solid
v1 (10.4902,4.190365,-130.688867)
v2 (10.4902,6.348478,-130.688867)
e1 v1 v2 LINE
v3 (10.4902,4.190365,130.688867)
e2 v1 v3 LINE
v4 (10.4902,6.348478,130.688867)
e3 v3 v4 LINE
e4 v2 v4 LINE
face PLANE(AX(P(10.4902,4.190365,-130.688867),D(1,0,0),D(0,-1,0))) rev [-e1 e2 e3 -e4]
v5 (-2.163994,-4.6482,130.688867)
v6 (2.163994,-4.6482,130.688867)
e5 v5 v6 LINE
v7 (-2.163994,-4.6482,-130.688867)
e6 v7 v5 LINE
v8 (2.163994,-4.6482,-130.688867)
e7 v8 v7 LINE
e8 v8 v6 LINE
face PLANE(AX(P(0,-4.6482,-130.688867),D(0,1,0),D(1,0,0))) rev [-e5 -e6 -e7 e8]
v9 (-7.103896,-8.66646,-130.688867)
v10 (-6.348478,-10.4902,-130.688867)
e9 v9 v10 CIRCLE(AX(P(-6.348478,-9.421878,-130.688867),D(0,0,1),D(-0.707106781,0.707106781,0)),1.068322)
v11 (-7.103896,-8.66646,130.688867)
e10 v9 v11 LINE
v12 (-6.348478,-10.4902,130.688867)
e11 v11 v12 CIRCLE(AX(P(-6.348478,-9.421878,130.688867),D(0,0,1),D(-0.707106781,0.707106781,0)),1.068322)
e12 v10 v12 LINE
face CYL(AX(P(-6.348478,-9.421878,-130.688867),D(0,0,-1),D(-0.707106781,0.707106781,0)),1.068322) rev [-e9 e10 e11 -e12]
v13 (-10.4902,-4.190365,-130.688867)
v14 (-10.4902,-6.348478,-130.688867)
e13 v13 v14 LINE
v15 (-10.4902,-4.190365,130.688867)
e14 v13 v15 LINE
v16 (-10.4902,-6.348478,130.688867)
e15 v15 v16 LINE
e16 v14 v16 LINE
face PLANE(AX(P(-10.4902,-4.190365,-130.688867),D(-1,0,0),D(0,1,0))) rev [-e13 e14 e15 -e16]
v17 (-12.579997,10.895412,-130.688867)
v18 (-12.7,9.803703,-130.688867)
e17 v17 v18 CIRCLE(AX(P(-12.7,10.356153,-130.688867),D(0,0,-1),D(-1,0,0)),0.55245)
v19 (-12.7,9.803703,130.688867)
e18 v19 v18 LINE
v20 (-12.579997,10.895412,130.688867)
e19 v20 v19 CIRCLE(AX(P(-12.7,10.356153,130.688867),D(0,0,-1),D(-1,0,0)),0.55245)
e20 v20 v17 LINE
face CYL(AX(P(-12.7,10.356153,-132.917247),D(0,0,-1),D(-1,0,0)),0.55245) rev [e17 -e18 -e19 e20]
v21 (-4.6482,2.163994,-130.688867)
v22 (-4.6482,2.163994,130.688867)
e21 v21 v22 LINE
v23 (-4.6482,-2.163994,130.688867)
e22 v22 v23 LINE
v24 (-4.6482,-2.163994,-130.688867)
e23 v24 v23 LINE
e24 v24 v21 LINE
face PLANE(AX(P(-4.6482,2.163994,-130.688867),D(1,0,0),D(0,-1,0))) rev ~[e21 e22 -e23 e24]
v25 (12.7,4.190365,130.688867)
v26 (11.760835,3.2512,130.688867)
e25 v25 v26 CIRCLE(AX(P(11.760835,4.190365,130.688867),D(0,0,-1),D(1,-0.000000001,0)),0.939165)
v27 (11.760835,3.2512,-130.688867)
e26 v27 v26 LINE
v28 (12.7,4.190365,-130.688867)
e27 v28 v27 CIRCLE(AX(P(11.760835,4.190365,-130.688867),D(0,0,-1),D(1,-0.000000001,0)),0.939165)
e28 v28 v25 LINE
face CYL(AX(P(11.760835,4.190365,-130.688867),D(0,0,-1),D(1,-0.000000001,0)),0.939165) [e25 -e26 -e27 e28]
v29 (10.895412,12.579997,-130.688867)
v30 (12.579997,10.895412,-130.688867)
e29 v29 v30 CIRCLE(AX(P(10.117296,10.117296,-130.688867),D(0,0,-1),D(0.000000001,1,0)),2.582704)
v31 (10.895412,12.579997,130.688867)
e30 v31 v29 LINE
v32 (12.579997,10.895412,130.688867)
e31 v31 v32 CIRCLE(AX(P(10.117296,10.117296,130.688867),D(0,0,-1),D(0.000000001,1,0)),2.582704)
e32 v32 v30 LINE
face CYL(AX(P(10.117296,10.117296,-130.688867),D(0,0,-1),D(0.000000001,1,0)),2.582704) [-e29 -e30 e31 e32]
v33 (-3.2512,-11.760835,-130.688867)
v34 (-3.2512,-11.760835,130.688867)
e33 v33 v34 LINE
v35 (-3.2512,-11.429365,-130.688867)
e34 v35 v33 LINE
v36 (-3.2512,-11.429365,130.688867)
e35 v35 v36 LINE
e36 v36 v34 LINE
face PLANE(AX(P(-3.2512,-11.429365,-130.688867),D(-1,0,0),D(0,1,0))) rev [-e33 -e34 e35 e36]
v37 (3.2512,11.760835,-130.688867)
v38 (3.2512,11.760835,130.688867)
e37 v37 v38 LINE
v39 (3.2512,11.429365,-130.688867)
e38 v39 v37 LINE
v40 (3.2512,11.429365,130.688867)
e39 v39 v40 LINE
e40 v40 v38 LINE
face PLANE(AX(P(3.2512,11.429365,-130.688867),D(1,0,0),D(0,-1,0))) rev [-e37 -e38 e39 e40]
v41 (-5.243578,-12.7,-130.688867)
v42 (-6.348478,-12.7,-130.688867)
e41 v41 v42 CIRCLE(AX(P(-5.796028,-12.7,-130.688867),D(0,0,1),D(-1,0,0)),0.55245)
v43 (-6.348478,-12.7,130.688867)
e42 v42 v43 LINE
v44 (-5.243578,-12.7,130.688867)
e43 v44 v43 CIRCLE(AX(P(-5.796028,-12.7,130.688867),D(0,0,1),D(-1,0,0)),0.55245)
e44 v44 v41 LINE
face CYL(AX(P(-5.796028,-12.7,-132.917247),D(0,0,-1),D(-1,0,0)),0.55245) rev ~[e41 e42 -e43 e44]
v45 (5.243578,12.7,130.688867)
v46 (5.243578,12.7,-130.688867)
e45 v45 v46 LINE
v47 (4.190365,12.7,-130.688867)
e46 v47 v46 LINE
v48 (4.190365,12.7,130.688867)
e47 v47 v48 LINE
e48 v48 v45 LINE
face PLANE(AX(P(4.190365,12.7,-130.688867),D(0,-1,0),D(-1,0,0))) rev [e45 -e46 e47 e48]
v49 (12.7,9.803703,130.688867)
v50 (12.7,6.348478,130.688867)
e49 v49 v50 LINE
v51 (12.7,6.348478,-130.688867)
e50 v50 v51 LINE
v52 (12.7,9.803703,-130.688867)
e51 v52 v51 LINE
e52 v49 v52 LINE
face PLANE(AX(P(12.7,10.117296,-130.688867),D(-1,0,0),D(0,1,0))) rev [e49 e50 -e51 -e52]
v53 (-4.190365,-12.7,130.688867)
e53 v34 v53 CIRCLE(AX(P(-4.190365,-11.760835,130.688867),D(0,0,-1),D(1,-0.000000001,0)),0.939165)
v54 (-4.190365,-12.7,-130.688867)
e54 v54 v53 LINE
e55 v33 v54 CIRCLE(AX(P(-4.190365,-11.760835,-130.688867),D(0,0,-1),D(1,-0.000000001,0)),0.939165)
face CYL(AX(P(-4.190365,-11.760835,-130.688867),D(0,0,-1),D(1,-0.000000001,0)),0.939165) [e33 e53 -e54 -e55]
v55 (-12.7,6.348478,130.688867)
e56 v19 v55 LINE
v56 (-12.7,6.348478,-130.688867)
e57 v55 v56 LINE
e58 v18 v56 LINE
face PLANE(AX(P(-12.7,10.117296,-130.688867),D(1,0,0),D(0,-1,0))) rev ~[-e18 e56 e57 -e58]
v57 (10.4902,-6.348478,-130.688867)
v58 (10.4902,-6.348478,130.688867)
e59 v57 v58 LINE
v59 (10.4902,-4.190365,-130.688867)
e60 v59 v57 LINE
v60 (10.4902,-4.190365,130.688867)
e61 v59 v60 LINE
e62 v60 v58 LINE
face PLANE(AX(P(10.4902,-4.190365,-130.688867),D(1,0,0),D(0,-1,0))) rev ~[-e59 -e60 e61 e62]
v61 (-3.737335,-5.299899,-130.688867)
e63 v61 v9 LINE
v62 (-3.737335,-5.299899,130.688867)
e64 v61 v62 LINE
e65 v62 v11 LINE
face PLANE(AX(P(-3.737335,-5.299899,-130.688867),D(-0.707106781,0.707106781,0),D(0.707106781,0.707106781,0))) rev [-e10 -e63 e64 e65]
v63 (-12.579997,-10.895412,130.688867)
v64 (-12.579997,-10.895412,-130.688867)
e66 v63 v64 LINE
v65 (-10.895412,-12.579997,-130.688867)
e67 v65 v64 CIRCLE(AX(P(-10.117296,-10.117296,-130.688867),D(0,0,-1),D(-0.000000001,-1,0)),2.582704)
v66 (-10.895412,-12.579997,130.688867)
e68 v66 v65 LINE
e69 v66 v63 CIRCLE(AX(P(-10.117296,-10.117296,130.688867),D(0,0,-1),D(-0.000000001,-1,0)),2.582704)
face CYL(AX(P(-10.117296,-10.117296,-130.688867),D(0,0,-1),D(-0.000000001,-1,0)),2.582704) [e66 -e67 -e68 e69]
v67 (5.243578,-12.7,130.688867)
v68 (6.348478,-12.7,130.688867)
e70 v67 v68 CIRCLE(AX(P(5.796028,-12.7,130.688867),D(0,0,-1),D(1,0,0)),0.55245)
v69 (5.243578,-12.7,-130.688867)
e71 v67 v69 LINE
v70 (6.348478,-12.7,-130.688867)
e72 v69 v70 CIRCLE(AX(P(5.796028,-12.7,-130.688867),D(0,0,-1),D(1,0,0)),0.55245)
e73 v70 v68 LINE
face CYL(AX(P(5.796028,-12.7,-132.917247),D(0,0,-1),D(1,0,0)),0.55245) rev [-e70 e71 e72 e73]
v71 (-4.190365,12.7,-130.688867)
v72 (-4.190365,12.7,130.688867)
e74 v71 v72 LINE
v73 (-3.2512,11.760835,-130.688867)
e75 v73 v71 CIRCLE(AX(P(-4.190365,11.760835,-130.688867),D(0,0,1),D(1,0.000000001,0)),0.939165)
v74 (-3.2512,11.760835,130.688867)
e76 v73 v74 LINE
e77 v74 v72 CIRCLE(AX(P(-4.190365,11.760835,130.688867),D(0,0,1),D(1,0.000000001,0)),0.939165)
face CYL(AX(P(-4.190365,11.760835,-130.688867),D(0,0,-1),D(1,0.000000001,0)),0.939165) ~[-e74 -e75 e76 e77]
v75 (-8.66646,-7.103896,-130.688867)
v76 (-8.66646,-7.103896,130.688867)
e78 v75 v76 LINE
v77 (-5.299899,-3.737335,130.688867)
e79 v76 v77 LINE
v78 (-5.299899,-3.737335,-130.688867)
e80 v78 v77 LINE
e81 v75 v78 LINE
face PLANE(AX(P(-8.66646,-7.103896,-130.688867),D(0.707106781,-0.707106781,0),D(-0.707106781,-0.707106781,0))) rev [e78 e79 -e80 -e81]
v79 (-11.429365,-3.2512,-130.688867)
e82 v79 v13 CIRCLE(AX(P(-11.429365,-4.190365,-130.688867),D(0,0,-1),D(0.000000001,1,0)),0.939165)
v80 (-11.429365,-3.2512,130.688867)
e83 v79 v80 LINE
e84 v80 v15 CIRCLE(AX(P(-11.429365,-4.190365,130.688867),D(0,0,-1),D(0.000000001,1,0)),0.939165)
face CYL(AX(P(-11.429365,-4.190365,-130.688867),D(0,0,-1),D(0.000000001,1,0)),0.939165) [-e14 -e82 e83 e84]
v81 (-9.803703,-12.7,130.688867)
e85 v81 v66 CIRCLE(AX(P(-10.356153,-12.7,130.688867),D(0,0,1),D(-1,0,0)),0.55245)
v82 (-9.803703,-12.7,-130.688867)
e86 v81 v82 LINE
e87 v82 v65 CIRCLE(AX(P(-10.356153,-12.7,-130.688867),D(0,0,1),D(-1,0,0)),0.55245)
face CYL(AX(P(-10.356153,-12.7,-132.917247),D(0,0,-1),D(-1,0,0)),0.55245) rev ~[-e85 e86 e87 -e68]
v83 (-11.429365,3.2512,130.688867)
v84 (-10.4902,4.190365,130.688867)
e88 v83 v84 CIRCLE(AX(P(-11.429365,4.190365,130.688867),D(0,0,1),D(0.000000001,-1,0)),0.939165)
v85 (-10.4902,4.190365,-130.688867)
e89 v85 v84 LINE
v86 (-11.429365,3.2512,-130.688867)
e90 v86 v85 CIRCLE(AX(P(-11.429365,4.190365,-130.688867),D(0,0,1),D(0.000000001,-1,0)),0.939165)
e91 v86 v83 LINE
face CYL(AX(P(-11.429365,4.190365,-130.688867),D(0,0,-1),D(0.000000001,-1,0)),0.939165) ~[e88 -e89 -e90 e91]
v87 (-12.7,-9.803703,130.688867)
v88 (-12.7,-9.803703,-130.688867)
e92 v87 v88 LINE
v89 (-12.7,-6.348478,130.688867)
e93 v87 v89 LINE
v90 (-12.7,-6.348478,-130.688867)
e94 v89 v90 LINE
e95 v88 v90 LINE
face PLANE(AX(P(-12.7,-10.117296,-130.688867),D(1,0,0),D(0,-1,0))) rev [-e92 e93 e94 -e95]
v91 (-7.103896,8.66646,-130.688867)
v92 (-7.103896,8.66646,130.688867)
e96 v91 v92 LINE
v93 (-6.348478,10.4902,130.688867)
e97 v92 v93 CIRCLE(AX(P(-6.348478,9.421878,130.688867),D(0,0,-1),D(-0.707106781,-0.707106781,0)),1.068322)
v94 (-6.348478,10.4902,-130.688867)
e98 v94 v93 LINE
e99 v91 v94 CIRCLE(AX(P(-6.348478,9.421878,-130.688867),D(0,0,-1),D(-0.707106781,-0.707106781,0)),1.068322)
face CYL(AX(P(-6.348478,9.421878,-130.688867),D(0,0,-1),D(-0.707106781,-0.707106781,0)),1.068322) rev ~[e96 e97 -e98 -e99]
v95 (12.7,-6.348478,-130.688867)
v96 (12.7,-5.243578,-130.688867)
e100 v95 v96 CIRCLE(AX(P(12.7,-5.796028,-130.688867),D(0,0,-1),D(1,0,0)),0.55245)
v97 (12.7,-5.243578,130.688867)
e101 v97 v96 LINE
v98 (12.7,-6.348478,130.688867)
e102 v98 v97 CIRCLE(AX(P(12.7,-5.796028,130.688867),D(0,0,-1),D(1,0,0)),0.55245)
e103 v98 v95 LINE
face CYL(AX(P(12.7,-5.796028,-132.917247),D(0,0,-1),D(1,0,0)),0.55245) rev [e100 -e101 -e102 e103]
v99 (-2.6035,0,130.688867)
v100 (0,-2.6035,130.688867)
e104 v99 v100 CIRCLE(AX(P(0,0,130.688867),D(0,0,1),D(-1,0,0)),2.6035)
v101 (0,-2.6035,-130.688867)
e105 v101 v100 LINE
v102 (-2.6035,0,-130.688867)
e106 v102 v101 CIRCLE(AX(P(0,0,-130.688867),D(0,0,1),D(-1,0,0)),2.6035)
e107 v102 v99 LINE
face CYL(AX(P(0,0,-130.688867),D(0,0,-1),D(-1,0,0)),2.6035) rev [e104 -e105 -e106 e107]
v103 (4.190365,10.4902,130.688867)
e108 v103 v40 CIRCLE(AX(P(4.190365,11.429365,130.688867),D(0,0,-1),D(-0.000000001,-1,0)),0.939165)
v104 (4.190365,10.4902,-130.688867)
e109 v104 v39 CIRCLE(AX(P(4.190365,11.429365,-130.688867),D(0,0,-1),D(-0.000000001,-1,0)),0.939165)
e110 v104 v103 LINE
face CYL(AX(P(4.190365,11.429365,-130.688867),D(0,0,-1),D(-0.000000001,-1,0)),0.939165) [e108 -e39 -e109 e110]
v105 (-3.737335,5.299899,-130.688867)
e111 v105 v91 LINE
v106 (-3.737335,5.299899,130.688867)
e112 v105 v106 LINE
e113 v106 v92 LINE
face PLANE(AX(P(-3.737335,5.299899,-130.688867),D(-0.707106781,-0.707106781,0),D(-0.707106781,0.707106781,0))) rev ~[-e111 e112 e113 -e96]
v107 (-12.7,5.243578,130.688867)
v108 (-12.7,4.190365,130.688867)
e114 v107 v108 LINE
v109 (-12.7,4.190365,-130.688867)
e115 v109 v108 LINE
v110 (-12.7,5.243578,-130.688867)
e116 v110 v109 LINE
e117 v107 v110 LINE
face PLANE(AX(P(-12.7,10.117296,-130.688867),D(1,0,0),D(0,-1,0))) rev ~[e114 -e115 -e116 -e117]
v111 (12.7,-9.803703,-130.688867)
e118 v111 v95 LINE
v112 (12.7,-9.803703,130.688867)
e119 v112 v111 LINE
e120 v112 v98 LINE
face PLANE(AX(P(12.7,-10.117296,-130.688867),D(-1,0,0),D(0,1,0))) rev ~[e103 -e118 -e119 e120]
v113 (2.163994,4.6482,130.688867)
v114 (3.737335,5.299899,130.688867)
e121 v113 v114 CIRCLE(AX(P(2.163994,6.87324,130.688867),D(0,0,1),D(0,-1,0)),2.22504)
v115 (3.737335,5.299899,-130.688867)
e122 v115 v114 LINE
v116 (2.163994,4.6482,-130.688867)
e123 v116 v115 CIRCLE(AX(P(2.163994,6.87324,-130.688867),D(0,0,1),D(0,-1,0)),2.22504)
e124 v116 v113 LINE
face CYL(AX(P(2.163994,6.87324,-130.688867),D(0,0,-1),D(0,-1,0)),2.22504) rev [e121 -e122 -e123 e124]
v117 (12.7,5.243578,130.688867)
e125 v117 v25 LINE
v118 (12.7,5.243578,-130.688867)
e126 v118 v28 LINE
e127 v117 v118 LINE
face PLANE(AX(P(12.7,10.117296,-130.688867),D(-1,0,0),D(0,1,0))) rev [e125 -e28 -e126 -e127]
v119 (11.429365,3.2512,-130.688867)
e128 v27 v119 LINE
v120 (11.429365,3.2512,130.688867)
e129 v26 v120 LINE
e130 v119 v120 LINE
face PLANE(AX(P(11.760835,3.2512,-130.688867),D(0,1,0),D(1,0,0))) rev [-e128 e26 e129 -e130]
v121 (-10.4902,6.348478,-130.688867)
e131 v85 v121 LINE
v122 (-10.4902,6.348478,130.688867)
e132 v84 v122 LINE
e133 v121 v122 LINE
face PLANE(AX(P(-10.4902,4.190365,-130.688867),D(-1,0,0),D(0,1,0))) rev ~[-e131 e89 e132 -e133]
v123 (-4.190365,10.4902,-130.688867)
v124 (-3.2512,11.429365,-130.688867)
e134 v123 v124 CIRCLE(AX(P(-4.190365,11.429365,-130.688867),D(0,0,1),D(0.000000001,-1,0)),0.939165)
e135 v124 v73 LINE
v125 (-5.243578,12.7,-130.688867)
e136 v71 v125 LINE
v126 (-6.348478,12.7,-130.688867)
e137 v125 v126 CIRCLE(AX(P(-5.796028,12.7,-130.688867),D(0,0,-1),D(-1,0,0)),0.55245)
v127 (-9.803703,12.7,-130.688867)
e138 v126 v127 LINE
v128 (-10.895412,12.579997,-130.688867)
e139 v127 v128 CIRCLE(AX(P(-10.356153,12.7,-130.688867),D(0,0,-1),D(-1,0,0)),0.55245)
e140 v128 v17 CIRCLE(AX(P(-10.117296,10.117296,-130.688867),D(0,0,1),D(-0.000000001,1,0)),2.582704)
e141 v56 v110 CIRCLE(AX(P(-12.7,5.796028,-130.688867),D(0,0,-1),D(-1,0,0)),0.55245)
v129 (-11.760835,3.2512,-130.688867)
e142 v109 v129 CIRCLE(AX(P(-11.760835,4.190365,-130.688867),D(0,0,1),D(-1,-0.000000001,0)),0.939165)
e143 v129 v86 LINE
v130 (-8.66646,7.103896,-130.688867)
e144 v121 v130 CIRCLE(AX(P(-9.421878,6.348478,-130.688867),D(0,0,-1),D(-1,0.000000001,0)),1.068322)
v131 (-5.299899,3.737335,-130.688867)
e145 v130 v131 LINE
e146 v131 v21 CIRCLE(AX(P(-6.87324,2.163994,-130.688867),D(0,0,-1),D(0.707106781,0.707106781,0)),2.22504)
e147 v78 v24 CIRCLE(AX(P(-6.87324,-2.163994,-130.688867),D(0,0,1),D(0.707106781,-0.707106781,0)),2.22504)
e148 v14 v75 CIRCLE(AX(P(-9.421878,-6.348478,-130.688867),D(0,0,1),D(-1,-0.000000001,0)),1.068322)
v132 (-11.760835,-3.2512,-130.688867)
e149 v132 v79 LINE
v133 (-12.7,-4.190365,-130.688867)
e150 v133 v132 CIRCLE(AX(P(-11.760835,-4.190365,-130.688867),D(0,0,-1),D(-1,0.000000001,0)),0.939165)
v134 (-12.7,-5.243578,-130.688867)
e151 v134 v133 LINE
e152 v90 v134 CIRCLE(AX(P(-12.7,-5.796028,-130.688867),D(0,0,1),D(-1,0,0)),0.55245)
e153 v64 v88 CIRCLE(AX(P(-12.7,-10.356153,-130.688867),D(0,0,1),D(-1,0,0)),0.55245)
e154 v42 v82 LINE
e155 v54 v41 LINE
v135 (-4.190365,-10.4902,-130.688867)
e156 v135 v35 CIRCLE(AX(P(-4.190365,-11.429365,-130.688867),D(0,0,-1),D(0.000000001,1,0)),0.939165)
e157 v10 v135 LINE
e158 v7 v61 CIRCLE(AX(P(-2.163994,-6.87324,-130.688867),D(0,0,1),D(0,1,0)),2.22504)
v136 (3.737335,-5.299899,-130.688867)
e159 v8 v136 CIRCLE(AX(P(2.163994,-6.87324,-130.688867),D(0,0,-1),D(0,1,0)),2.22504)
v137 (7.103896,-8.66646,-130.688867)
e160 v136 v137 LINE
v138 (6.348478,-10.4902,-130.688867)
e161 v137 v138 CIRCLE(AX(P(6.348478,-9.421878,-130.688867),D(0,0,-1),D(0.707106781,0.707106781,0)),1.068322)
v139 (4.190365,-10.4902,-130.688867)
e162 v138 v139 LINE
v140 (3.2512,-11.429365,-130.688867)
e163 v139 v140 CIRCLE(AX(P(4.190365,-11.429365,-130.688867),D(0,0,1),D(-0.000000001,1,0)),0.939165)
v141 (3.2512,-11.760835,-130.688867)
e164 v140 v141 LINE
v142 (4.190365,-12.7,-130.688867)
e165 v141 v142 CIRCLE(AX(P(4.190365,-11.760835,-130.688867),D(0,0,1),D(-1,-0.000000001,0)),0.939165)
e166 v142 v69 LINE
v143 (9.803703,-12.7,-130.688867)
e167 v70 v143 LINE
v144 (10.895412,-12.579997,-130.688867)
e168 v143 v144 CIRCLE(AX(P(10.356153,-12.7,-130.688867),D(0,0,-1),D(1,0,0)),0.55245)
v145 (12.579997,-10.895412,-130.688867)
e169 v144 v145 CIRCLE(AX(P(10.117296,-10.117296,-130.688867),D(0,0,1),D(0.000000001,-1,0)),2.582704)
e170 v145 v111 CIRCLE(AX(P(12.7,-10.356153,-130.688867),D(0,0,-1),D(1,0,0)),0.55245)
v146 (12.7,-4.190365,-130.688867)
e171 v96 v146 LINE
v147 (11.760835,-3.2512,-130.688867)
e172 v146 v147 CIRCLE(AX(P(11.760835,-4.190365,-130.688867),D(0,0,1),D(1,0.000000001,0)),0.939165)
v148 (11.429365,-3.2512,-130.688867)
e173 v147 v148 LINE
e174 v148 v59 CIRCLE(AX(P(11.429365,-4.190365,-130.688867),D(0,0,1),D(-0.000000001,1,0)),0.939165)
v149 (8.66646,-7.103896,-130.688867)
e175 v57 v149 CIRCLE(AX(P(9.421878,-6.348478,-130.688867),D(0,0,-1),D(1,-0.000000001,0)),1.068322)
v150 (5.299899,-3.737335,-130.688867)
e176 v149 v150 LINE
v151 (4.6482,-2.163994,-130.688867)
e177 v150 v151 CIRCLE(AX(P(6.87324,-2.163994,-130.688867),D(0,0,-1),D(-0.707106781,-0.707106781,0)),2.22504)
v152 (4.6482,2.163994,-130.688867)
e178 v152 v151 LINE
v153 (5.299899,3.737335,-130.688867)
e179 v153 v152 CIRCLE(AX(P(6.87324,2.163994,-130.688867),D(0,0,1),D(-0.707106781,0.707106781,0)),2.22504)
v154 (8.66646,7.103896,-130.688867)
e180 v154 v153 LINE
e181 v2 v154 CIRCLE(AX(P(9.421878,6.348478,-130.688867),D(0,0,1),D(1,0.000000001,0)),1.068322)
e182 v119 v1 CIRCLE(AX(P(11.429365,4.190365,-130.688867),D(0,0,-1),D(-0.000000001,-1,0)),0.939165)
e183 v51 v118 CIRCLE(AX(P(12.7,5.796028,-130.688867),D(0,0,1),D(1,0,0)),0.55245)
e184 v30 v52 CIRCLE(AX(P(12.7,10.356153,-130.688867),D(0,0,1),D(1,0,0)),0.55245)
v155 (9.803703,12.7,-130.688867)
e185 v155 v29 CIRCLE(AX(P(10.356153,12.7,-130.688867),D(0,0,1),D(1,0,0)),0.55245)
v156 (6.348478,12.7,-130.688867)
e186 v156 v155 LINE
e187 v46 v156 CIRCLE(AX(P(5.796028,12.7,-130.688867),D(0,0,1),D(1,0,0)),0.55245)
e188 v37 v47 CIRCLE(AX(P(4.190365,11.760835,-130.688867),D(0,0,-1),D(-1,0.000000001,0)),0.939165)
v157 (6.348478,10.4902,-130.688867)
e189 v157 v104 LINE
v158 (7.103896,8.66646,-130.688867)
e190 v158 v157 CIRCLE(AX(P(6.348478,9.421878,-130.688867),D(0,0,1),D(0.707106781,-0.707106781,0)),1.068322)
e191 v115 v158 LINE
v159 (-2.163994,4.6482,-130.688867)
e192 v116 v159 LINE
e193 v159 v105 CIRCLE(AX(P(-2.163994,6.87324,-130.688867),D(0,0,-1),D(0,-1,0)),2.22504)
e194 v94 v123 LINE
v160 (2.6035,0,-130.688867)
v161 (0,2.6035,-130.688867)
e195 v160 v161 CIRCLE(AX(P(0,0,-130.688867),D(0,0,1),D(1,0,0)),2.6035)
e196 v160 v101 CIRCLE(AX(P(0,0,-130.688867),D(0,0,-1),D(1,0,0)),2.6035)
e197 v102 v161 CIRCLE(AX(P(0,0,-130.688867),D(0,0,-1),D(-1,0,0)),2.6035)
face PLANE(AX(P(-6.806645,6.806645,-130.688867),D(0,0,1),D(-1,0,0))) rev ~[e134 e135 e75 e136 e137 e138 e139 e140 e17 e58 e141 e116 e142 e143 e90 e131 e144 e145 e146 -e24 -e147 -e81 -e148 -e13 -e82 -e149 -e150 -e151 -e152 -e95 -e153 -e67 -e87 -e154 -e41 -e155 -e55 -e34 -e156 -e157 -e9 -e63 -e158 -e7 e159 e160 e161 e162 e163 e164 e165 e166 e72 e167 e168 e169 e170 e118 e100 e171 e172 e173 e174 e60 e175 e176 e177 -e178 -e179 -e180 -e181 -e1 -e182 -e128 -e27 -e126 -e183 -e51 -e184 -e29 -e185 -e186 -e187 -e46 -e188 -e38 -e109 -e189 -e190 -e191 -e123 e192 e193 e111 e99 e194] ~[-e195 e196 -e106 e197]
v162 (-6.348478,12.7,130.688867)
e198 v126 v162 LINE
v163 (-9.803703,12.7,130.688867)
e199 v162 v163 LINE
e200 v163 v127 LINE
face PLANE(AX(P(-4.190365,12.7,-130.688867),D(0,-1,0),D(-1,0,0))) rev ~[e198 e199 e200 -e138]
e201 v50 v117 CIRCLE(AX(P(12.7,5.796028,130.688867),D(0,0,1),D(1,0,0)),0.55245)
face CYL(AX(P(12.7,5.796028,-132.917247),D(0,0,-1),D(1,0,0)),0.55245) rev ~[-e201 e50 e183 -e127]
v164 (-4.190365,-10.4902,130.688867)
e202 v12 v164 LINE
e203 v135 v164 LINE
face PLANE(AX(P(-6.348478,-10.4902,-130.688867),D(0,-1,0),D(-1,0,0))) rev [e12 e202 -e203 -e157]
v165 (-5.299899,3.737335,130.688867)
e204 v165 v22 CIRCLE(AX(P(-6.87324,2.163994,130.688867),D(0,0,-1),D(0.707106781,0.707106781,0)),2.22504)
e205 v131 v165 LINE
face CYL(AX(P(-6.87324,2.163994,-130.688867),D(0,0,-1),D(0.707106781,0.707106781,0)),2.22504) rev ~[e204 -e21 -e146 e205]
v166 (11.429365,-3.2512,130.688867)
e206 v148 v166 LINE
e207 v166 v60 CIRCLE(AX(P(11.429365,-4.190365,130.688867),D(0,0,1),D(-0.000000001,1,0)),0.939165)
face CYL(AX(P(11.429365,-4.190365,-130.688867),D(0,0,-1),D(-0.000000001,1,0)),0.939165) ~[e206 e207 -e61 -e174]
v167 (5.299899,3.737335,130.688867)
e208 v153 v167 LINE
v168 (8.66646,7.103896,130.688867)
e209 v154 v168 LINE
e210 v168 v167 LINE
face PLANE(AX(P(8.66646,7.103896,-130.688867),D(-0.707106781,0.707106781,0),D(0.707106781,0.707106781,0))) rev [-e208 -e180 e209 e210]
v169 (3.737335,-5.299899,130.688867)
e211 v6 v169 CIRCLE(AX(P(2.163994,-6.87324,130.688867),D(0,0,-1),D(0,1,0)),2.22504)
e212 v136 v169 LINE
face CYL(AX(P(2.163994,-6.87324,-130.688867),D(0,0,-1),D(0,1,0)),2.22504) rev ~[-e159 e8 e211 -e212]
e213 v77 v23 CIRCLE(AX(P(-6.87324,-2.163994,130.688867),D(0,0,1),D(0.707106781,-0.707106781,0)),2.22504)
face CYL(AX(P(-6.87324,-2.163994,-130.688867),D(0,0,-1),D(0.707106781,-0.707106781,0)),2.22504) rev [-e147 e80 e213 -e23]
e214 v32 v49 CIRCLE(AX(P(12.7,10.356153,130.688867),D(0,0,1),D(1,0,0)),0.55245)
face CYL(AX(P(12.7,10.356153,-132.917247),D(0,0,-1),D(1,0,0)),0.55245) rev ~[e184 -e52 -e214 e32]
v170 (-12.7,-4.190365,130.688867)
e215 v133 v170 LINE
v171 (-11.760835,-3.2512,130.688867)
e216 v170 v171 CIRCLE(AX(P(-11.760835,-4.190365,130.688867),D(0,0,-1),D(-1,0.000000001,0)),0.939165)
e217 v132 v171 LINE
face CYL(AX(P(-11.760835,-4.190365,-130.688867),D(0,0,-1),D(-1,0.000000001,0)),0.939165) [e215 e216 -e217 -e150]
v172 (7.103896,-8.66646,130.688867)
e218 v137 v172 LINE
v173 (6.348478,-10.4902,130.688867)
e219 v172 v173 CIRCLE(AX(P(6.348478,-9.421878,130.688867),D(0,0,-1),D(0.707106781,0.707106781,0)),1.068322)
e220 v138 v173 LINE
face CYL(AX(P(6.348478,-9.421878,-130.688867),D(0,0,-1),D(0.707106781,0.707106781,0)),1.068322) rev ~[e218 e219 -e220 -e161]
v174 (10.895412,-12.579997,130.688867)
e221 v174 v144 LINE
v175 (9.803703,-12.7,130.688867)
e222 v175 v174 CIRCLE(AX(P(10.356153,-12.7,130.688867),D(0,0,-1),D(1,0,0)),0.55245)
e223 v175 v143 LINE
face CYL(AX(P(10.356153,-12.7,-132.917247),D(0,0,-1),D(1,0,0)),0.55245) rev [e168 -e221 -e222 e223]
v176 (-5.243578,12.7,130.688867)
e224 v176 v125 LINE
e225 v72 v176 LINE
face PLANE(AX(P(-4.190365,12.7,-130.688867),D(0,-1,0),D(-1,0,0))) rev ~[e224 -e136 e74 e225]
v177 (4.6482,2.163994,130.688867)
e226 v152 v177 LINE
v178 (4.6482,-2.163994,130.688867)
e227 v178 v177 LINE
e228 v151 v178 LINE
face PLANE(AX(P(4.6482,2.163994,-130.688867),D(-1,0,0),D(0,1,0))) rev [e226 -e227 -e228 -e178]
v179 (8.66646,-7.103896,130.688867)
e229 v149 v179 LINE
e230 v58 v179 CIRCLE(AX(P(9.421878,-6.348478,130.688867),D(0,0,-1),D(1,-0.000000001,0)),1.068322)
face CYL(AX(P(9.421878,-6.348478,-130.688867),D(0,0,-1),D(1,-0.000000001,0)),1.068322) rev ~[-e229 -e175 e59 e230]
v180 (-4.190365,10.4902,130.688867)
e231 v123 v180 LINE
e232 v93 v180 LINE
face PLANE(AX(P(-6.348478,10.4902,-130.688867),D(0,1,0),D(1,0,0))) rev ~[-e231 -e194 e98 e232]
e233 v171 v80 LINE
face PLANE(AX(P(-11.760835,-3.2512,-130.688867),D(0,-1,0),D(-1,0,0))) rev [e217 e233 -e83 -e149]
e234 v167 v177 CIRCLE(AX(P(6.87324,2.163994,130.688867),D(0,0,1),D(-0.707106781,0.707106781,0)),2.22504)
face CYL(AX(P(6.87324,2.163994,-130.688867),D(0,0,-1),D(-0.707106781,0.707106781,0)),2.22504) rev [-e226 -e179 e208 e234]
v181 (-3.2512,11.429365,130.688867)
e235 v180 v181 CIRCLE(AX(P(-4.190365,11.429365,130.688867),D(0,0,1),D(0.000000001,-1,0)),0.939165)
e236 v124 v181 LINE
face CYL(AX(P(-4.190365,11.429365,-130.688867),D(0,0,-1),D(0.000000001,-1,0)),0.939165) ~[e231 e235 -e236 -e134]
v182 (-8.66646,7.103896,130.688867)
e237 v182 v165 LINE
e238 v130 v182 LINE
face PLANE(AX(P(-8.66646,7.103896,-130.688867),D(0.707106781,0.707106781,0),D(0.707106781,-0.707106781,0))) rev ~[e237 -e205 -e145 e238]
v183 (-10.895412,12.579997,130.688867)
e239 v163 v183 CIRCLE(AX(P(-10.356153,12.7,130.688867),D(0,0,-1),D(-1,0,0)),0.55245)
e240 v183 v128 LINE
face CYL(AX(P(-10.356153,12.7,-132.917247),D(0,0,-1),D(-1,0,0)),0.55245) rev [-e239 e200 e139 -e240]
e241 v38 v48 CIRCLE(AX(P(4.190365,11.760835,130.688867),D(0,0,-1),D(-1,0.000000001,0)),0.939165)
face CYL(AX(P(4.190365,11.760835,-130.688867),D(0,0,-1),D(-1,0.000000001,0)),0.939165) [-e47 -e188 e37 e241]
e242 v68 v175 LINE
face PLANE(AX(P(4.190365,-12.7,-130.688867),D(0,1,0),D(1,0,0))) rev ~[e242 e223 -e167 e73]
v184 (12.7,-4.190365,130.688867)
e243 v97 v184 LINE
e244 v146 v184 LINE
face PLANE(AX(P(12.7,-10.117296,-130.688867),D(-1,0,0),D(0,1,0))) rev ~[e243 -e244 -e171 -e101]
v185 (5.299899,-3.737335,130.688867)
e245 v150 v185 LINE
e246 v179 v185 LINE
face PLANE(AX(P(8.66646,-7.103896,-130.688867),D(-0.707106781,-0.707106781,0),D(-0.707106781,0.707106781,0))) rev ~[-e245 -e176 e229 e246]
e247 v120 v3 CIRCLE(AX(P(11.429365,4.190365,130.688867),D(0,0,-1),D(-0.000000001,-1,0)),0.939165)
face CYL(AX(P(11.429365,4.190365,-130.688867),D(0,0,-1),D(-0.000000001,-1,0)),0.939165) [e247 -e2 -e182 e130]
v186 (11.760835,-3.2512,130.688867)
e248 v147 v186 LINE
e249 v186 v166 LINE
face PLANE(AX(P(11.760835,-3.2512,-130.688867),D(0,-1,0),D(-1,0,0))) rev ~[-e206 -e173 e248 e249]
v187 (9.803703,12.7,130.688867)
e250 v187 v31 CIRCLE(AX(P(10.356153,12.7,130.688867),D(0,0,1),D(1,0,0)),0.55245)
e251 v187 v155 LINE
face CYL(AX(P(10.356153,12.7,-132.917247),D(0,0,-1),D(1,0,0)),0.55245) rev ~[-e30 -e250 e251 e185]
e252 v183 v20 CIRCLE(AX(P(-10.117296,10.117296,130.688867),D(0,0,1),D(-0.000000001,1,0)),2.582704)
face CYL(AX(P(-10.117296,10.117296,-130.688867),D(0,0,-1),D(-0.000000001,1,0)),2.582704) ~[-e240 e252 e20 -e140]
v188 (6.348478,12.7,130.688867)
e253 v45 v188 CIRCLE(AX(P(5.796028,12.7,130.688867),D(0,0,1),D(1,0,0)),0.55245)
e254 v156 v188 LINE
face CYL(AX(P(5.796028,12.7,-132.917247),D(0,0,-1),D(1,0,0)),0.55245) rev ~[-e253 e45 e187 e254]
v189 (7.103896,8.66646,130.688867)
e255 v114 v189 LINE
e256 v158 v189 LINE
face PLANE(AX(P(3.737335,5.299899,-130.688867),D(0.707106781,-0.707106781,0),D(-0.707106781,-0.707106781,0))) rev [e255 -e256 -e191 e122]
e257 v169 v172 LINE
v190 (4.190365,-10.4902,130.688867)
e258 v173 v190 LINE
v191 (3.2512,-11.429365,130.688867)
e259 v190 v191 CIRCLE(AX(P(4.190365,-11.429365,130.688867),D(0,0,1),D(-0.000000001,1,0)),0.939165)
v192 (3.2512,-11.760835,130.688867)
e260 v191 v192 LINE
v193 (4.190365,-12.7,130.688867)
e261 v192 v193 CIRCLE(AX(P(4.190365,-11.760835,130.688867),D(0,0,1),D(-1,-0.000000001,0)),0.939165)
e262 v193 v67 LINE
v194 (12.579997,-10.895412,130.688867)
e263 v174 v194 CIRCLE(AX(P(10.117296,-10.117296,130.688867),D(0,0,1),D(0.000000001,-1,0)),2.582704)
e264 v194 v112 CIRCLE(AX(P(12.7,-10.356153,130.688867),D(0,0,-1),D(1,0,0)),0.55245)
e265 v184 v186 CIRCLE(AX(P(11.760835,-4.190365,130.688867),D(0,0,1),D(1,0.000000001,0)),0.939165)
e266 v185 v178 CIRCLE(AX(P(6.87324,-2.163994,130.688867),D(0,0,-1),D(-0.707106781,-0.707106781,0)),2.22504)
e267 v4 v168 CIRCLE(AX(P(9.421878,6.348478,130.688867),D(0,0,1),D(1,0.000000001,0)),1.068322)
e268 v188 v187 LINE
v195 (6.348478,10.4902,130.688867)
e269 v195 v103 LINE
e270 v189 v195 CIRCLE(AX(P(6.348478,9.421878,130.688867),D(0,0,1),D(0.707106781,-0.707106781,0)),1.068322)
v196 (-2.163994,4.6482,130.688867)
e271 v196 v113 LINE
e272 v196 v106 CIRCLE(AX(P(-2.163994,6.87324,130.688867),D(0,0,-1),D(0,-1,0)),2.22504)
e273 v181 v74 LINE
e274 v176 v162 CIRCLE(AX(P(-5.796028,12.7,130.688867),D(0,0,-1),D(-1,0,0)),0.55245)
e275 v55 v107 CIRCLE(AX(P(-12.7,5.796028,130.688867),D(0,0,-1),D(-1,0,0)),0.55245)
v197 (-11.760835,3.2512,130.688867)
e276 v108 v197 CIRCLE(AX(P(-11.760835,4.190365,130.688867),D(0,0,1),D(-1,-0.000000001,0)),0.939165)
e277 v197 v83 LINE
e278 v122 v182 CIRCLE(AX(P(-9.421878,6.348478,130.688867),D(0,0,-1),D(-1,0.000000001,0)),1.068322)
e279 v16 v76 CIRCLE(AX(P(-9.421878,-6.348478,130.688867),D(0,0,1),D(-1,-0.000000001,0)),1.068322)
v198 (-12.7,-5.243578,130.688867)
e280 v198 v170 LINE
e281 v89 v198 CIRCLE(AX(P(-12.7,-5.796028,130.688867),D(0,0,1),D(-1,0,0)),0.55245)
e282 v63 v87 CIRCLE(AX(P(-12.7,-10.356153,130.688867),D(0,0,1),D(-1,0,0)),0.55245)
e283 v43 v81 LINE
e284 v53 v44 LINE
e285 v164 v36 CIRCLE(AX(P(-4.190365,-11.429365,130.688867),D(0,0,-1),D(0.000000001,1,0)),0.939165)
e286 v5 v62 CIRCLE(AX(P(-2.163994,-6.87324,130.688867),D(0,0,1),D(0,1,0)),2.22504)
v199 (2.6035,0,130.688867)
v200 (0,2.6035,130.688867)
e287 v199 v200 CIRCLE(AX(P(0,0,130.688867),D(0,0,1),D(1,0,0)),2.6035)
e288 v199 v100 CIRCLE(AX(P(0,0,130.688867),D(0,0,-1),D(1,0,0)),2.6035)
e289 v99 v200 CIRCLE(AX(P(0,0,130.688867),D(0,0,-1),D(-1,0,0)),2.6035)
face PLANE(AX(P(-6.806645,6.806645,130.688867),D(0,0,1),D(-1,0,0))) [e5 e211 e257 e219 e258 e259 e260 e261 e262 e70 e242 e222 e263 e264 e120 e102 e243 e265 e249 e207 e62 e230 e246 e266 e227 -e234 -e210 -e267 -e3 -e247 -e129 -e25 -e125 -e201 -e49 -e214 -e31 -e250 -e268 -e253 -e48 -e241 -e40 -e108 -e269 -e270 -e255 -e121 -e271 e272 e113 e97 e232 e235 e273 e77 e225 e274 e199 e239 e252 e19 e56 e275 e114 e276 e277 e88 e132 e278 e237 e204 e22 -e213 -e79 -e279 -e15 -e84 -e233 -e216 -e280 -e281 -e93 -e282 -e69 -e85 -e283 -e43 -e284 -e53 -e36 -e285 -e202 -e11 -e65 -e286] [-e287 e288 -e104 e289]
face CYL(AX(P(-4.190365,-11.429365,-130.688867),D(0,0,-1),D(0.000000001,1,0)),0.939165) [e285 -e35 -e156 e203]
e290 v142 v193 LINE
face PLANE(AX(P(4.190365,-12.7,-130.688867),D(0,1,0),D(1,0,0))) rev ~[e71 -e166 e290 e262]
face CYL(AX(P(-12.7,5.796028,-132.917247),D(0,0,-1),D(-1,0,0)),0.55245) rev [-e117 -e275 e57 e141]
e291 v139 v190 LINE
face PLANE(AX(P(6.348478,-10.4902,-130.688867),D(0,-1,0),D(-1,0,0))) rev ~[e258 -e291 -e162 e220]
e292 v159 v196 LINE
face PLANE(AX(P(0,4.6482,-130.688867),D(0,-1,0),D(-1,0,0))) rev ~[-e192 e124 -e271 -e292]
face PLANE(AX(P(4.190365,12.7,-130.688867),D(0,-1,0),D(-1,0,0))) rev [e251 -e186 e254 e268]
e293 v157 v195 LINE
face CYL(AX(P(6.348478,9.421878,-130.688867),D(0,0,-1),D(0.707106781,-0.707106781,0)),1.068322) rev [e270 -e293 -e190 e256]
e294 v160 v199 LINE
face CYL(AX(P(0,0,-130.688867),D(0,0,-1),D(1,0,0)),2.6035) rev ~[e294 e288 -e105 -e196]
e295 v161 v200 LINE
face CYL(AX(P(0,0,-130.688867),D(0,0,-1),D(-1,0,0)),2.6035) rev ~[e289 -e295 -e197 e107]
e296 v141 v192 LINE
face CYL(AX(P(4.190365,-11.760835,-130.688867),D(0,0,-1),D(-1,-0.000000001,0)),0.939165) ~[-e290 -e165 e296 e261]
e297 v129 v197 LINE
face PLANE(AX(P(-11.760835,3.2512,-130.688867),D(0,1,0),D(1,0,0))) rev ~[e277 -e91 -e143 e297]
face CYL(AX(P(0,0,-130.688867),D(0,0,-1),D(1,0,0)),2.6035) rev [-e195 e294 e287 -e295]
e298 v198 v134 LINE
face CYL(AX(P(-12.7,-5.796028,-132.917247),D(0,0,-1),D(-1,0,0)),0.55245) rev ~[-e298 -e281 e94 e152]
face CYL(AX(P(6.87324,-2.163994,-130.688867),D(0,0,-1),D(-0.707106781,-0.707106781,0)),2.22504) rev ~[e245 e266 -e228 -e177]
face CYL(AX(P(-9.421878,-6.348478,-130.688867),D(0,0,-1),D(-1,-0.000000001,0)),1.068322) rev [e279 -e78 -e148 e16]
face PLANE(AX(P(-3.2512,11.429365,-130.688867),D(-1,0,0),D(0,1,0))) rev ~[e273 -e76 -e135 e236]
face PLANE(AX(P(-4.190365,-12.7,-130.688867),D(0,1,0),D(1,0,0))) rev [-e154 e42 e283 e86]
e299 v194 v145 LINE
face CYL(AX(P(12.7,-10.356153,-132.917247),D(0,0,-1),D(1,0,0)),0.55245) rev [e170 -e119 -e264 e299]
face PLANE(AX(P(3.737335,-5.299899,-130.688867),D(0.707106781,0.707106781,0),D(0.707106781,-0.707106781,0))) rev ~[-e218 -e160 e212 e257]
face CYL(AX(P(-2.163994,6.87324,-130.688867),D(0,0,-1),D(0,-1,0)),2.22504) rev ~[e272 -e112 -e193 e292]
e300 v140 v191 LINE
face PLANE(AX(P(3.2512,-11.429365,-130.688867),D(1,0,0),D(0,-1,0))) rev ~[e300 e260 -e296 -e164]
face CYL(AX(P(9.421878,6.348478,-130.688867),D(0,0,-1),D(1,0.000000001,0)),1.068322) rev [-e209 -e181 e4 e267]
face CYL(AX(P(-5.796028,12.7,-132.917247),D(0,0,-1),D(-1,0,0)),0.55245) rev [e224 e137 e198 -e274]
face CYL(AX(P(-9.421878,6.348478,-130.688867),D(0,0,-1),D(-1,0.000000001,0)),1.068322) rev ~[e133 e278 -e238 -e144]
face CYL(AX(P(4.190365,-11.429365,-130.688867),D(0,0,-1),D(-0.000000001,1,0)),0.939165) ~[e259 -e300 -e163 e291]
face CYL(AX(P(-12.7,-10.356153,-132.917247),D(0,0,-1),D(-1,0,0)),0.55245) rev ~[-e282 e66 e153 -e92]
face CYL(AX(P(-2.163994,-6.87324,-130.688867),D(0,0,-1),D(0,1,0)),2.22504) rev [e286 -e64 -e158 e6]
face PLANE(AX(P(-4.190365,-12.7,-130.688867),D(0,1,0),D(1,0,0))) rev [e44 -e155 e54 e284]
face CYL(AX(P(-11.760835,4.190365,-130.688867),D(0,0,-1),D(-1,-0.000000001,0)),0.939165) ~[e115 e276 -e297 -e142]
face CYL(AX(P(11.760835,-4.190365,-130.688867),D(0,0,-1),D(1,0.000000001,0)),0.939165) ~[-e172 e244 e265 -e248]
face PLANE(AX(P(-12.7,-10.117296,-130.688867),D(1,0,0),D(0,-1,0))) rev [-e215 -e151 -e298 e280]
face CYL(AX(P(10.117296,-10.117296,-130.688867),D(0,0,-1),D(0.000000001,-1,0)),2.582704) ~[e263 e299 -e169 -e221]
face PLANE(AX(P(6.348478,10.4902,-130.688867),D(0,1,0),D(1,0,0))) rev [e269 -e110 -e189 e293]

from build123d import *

# Parameters (mm, degrees)
BOSS_EXTRUDE1_START     = -130.688867
BOSS_EXTRUDE1_DEPTH     = 261.377734
CUT_EXTRUDE1_DEPTH      = 132.917246627
CUT_EXTRUDE1_DEPTH_BACK = 132.917246627
SKETCH5_R               = 0.55245


with BuildPart() as part:
    # Sketch4 → Boss-Extrude1 (new body)
    with BuildSketch(Plane.XY.offset(BOSS_EXTRUDE1_START)):
        with BuildLine():
            Line((4.190365, -12.7), (10.11729625, -12.7))
            ThreePointArc((10.11729625, -12.7), (11.943543585, -11.943543585), (12.7, -10.11729625))
            Line((12.7, -10.11729625), (12.7, -4.190365))
            ThreePointArc((12.7, -4.190365), (12.42492494, -3.52627506), (11.760835, -3.2512))
            Line((11.760835, -3.2512), (11.429365, -3.2512))
            ThreePointArc((11.429365, -3.2512), (10.76527506, -3.52627506), (10.4902, -4.190365))
            Line((10.4902, -4.190365), (10.4902, -6.348478019))
            ThreePointArc((10.4902, -6.348478019), (9.830707141, -7.335478831), (8.666460301, -7.103895736))
            Line((8.666460301, -7.103895736), (5.299899128, -3.737334563))
            ThreePointArc((5.299899128, -3.737334563), (4.817571085, -3.015479634), (4.6482, -2.16399369))
            Line((4.6482, -2.16399369), (4.6482, 0))
            Line((4.6482, 0), (2.6035, 0))
            ThreePointArc((2.6035, 0), (1.840952505, -1.840952505), (0, -2.6035))
            Line((0, -2.6035), (0, -4.6482))
            Line((0, -4.6482), (2.16399369, -4.6482))
            ThreePointArc((2.16399369, -4.6482), (3.015479634, -4.817571085), (3.737334563, -5.299899128))
            Line((3.737334563, -5.299899128), (7.103895736, -8.666460301))
            ThreePointArc((7.103895736, -8.666460301), (7.335478831, -9.830707141), (6.348478019, -10.4902))
            Line((6.348478019, -10.4902), (4.190365, -10.4902))
            ThreePointArc((4.190365, -10.4902), (3.52627506, -10.76527506), (3.2512, -11.429365))
            Line((3.2512, -11.429365), (3.2512, -11.760835))
            ThreePointArc((3.2512, -11.760835), (3.52627506, -12.42492494), (4.190365, -12.7))
        make_face()
    extrude(amount=BOSS_EXTRUDE1_DEPTH)

    # Sketch5 → Cut-Extrude1 (cut, two sides: drawn at the far end of the back side and taken through both)
    with BuildSketch(Plane.XY.offset(-CUT_EXTRUDE1_DEPTH_BACK)):
        with Locations((10.356153152, -12.7)):
            Circle(SKETCH5_R)
        with Locations((5.796028019, -12.7)):
            Circle(SKETCH5_R)
        with Locations((12.7, -10.356153152)):
            Circle(SKETCH5_R)
        with Locations((12.7, -5.796028019)):
            Circle(SKETCH5_R)
    extrude(amount=CUT_EXTRUDE1_DEPTH + CUT_EXTRUDE1_DEPTH_BACK, mode=Mode.SUBTRACT)

    # Mirror1: part across plane


with BuildPart() as part_1:
    add(part.part)
    add(part.part.mirror(Plane(origin=(0, 0, 0), x_dir=(0, 0, 1), z_dir=(1, 0, 0))))

    # Mirror2: part across plane


with BuildPart() as part_2:
    add(part_1.part)
    add(part_1.part.mirror(Plane.ZX))


solid = part_2.part
